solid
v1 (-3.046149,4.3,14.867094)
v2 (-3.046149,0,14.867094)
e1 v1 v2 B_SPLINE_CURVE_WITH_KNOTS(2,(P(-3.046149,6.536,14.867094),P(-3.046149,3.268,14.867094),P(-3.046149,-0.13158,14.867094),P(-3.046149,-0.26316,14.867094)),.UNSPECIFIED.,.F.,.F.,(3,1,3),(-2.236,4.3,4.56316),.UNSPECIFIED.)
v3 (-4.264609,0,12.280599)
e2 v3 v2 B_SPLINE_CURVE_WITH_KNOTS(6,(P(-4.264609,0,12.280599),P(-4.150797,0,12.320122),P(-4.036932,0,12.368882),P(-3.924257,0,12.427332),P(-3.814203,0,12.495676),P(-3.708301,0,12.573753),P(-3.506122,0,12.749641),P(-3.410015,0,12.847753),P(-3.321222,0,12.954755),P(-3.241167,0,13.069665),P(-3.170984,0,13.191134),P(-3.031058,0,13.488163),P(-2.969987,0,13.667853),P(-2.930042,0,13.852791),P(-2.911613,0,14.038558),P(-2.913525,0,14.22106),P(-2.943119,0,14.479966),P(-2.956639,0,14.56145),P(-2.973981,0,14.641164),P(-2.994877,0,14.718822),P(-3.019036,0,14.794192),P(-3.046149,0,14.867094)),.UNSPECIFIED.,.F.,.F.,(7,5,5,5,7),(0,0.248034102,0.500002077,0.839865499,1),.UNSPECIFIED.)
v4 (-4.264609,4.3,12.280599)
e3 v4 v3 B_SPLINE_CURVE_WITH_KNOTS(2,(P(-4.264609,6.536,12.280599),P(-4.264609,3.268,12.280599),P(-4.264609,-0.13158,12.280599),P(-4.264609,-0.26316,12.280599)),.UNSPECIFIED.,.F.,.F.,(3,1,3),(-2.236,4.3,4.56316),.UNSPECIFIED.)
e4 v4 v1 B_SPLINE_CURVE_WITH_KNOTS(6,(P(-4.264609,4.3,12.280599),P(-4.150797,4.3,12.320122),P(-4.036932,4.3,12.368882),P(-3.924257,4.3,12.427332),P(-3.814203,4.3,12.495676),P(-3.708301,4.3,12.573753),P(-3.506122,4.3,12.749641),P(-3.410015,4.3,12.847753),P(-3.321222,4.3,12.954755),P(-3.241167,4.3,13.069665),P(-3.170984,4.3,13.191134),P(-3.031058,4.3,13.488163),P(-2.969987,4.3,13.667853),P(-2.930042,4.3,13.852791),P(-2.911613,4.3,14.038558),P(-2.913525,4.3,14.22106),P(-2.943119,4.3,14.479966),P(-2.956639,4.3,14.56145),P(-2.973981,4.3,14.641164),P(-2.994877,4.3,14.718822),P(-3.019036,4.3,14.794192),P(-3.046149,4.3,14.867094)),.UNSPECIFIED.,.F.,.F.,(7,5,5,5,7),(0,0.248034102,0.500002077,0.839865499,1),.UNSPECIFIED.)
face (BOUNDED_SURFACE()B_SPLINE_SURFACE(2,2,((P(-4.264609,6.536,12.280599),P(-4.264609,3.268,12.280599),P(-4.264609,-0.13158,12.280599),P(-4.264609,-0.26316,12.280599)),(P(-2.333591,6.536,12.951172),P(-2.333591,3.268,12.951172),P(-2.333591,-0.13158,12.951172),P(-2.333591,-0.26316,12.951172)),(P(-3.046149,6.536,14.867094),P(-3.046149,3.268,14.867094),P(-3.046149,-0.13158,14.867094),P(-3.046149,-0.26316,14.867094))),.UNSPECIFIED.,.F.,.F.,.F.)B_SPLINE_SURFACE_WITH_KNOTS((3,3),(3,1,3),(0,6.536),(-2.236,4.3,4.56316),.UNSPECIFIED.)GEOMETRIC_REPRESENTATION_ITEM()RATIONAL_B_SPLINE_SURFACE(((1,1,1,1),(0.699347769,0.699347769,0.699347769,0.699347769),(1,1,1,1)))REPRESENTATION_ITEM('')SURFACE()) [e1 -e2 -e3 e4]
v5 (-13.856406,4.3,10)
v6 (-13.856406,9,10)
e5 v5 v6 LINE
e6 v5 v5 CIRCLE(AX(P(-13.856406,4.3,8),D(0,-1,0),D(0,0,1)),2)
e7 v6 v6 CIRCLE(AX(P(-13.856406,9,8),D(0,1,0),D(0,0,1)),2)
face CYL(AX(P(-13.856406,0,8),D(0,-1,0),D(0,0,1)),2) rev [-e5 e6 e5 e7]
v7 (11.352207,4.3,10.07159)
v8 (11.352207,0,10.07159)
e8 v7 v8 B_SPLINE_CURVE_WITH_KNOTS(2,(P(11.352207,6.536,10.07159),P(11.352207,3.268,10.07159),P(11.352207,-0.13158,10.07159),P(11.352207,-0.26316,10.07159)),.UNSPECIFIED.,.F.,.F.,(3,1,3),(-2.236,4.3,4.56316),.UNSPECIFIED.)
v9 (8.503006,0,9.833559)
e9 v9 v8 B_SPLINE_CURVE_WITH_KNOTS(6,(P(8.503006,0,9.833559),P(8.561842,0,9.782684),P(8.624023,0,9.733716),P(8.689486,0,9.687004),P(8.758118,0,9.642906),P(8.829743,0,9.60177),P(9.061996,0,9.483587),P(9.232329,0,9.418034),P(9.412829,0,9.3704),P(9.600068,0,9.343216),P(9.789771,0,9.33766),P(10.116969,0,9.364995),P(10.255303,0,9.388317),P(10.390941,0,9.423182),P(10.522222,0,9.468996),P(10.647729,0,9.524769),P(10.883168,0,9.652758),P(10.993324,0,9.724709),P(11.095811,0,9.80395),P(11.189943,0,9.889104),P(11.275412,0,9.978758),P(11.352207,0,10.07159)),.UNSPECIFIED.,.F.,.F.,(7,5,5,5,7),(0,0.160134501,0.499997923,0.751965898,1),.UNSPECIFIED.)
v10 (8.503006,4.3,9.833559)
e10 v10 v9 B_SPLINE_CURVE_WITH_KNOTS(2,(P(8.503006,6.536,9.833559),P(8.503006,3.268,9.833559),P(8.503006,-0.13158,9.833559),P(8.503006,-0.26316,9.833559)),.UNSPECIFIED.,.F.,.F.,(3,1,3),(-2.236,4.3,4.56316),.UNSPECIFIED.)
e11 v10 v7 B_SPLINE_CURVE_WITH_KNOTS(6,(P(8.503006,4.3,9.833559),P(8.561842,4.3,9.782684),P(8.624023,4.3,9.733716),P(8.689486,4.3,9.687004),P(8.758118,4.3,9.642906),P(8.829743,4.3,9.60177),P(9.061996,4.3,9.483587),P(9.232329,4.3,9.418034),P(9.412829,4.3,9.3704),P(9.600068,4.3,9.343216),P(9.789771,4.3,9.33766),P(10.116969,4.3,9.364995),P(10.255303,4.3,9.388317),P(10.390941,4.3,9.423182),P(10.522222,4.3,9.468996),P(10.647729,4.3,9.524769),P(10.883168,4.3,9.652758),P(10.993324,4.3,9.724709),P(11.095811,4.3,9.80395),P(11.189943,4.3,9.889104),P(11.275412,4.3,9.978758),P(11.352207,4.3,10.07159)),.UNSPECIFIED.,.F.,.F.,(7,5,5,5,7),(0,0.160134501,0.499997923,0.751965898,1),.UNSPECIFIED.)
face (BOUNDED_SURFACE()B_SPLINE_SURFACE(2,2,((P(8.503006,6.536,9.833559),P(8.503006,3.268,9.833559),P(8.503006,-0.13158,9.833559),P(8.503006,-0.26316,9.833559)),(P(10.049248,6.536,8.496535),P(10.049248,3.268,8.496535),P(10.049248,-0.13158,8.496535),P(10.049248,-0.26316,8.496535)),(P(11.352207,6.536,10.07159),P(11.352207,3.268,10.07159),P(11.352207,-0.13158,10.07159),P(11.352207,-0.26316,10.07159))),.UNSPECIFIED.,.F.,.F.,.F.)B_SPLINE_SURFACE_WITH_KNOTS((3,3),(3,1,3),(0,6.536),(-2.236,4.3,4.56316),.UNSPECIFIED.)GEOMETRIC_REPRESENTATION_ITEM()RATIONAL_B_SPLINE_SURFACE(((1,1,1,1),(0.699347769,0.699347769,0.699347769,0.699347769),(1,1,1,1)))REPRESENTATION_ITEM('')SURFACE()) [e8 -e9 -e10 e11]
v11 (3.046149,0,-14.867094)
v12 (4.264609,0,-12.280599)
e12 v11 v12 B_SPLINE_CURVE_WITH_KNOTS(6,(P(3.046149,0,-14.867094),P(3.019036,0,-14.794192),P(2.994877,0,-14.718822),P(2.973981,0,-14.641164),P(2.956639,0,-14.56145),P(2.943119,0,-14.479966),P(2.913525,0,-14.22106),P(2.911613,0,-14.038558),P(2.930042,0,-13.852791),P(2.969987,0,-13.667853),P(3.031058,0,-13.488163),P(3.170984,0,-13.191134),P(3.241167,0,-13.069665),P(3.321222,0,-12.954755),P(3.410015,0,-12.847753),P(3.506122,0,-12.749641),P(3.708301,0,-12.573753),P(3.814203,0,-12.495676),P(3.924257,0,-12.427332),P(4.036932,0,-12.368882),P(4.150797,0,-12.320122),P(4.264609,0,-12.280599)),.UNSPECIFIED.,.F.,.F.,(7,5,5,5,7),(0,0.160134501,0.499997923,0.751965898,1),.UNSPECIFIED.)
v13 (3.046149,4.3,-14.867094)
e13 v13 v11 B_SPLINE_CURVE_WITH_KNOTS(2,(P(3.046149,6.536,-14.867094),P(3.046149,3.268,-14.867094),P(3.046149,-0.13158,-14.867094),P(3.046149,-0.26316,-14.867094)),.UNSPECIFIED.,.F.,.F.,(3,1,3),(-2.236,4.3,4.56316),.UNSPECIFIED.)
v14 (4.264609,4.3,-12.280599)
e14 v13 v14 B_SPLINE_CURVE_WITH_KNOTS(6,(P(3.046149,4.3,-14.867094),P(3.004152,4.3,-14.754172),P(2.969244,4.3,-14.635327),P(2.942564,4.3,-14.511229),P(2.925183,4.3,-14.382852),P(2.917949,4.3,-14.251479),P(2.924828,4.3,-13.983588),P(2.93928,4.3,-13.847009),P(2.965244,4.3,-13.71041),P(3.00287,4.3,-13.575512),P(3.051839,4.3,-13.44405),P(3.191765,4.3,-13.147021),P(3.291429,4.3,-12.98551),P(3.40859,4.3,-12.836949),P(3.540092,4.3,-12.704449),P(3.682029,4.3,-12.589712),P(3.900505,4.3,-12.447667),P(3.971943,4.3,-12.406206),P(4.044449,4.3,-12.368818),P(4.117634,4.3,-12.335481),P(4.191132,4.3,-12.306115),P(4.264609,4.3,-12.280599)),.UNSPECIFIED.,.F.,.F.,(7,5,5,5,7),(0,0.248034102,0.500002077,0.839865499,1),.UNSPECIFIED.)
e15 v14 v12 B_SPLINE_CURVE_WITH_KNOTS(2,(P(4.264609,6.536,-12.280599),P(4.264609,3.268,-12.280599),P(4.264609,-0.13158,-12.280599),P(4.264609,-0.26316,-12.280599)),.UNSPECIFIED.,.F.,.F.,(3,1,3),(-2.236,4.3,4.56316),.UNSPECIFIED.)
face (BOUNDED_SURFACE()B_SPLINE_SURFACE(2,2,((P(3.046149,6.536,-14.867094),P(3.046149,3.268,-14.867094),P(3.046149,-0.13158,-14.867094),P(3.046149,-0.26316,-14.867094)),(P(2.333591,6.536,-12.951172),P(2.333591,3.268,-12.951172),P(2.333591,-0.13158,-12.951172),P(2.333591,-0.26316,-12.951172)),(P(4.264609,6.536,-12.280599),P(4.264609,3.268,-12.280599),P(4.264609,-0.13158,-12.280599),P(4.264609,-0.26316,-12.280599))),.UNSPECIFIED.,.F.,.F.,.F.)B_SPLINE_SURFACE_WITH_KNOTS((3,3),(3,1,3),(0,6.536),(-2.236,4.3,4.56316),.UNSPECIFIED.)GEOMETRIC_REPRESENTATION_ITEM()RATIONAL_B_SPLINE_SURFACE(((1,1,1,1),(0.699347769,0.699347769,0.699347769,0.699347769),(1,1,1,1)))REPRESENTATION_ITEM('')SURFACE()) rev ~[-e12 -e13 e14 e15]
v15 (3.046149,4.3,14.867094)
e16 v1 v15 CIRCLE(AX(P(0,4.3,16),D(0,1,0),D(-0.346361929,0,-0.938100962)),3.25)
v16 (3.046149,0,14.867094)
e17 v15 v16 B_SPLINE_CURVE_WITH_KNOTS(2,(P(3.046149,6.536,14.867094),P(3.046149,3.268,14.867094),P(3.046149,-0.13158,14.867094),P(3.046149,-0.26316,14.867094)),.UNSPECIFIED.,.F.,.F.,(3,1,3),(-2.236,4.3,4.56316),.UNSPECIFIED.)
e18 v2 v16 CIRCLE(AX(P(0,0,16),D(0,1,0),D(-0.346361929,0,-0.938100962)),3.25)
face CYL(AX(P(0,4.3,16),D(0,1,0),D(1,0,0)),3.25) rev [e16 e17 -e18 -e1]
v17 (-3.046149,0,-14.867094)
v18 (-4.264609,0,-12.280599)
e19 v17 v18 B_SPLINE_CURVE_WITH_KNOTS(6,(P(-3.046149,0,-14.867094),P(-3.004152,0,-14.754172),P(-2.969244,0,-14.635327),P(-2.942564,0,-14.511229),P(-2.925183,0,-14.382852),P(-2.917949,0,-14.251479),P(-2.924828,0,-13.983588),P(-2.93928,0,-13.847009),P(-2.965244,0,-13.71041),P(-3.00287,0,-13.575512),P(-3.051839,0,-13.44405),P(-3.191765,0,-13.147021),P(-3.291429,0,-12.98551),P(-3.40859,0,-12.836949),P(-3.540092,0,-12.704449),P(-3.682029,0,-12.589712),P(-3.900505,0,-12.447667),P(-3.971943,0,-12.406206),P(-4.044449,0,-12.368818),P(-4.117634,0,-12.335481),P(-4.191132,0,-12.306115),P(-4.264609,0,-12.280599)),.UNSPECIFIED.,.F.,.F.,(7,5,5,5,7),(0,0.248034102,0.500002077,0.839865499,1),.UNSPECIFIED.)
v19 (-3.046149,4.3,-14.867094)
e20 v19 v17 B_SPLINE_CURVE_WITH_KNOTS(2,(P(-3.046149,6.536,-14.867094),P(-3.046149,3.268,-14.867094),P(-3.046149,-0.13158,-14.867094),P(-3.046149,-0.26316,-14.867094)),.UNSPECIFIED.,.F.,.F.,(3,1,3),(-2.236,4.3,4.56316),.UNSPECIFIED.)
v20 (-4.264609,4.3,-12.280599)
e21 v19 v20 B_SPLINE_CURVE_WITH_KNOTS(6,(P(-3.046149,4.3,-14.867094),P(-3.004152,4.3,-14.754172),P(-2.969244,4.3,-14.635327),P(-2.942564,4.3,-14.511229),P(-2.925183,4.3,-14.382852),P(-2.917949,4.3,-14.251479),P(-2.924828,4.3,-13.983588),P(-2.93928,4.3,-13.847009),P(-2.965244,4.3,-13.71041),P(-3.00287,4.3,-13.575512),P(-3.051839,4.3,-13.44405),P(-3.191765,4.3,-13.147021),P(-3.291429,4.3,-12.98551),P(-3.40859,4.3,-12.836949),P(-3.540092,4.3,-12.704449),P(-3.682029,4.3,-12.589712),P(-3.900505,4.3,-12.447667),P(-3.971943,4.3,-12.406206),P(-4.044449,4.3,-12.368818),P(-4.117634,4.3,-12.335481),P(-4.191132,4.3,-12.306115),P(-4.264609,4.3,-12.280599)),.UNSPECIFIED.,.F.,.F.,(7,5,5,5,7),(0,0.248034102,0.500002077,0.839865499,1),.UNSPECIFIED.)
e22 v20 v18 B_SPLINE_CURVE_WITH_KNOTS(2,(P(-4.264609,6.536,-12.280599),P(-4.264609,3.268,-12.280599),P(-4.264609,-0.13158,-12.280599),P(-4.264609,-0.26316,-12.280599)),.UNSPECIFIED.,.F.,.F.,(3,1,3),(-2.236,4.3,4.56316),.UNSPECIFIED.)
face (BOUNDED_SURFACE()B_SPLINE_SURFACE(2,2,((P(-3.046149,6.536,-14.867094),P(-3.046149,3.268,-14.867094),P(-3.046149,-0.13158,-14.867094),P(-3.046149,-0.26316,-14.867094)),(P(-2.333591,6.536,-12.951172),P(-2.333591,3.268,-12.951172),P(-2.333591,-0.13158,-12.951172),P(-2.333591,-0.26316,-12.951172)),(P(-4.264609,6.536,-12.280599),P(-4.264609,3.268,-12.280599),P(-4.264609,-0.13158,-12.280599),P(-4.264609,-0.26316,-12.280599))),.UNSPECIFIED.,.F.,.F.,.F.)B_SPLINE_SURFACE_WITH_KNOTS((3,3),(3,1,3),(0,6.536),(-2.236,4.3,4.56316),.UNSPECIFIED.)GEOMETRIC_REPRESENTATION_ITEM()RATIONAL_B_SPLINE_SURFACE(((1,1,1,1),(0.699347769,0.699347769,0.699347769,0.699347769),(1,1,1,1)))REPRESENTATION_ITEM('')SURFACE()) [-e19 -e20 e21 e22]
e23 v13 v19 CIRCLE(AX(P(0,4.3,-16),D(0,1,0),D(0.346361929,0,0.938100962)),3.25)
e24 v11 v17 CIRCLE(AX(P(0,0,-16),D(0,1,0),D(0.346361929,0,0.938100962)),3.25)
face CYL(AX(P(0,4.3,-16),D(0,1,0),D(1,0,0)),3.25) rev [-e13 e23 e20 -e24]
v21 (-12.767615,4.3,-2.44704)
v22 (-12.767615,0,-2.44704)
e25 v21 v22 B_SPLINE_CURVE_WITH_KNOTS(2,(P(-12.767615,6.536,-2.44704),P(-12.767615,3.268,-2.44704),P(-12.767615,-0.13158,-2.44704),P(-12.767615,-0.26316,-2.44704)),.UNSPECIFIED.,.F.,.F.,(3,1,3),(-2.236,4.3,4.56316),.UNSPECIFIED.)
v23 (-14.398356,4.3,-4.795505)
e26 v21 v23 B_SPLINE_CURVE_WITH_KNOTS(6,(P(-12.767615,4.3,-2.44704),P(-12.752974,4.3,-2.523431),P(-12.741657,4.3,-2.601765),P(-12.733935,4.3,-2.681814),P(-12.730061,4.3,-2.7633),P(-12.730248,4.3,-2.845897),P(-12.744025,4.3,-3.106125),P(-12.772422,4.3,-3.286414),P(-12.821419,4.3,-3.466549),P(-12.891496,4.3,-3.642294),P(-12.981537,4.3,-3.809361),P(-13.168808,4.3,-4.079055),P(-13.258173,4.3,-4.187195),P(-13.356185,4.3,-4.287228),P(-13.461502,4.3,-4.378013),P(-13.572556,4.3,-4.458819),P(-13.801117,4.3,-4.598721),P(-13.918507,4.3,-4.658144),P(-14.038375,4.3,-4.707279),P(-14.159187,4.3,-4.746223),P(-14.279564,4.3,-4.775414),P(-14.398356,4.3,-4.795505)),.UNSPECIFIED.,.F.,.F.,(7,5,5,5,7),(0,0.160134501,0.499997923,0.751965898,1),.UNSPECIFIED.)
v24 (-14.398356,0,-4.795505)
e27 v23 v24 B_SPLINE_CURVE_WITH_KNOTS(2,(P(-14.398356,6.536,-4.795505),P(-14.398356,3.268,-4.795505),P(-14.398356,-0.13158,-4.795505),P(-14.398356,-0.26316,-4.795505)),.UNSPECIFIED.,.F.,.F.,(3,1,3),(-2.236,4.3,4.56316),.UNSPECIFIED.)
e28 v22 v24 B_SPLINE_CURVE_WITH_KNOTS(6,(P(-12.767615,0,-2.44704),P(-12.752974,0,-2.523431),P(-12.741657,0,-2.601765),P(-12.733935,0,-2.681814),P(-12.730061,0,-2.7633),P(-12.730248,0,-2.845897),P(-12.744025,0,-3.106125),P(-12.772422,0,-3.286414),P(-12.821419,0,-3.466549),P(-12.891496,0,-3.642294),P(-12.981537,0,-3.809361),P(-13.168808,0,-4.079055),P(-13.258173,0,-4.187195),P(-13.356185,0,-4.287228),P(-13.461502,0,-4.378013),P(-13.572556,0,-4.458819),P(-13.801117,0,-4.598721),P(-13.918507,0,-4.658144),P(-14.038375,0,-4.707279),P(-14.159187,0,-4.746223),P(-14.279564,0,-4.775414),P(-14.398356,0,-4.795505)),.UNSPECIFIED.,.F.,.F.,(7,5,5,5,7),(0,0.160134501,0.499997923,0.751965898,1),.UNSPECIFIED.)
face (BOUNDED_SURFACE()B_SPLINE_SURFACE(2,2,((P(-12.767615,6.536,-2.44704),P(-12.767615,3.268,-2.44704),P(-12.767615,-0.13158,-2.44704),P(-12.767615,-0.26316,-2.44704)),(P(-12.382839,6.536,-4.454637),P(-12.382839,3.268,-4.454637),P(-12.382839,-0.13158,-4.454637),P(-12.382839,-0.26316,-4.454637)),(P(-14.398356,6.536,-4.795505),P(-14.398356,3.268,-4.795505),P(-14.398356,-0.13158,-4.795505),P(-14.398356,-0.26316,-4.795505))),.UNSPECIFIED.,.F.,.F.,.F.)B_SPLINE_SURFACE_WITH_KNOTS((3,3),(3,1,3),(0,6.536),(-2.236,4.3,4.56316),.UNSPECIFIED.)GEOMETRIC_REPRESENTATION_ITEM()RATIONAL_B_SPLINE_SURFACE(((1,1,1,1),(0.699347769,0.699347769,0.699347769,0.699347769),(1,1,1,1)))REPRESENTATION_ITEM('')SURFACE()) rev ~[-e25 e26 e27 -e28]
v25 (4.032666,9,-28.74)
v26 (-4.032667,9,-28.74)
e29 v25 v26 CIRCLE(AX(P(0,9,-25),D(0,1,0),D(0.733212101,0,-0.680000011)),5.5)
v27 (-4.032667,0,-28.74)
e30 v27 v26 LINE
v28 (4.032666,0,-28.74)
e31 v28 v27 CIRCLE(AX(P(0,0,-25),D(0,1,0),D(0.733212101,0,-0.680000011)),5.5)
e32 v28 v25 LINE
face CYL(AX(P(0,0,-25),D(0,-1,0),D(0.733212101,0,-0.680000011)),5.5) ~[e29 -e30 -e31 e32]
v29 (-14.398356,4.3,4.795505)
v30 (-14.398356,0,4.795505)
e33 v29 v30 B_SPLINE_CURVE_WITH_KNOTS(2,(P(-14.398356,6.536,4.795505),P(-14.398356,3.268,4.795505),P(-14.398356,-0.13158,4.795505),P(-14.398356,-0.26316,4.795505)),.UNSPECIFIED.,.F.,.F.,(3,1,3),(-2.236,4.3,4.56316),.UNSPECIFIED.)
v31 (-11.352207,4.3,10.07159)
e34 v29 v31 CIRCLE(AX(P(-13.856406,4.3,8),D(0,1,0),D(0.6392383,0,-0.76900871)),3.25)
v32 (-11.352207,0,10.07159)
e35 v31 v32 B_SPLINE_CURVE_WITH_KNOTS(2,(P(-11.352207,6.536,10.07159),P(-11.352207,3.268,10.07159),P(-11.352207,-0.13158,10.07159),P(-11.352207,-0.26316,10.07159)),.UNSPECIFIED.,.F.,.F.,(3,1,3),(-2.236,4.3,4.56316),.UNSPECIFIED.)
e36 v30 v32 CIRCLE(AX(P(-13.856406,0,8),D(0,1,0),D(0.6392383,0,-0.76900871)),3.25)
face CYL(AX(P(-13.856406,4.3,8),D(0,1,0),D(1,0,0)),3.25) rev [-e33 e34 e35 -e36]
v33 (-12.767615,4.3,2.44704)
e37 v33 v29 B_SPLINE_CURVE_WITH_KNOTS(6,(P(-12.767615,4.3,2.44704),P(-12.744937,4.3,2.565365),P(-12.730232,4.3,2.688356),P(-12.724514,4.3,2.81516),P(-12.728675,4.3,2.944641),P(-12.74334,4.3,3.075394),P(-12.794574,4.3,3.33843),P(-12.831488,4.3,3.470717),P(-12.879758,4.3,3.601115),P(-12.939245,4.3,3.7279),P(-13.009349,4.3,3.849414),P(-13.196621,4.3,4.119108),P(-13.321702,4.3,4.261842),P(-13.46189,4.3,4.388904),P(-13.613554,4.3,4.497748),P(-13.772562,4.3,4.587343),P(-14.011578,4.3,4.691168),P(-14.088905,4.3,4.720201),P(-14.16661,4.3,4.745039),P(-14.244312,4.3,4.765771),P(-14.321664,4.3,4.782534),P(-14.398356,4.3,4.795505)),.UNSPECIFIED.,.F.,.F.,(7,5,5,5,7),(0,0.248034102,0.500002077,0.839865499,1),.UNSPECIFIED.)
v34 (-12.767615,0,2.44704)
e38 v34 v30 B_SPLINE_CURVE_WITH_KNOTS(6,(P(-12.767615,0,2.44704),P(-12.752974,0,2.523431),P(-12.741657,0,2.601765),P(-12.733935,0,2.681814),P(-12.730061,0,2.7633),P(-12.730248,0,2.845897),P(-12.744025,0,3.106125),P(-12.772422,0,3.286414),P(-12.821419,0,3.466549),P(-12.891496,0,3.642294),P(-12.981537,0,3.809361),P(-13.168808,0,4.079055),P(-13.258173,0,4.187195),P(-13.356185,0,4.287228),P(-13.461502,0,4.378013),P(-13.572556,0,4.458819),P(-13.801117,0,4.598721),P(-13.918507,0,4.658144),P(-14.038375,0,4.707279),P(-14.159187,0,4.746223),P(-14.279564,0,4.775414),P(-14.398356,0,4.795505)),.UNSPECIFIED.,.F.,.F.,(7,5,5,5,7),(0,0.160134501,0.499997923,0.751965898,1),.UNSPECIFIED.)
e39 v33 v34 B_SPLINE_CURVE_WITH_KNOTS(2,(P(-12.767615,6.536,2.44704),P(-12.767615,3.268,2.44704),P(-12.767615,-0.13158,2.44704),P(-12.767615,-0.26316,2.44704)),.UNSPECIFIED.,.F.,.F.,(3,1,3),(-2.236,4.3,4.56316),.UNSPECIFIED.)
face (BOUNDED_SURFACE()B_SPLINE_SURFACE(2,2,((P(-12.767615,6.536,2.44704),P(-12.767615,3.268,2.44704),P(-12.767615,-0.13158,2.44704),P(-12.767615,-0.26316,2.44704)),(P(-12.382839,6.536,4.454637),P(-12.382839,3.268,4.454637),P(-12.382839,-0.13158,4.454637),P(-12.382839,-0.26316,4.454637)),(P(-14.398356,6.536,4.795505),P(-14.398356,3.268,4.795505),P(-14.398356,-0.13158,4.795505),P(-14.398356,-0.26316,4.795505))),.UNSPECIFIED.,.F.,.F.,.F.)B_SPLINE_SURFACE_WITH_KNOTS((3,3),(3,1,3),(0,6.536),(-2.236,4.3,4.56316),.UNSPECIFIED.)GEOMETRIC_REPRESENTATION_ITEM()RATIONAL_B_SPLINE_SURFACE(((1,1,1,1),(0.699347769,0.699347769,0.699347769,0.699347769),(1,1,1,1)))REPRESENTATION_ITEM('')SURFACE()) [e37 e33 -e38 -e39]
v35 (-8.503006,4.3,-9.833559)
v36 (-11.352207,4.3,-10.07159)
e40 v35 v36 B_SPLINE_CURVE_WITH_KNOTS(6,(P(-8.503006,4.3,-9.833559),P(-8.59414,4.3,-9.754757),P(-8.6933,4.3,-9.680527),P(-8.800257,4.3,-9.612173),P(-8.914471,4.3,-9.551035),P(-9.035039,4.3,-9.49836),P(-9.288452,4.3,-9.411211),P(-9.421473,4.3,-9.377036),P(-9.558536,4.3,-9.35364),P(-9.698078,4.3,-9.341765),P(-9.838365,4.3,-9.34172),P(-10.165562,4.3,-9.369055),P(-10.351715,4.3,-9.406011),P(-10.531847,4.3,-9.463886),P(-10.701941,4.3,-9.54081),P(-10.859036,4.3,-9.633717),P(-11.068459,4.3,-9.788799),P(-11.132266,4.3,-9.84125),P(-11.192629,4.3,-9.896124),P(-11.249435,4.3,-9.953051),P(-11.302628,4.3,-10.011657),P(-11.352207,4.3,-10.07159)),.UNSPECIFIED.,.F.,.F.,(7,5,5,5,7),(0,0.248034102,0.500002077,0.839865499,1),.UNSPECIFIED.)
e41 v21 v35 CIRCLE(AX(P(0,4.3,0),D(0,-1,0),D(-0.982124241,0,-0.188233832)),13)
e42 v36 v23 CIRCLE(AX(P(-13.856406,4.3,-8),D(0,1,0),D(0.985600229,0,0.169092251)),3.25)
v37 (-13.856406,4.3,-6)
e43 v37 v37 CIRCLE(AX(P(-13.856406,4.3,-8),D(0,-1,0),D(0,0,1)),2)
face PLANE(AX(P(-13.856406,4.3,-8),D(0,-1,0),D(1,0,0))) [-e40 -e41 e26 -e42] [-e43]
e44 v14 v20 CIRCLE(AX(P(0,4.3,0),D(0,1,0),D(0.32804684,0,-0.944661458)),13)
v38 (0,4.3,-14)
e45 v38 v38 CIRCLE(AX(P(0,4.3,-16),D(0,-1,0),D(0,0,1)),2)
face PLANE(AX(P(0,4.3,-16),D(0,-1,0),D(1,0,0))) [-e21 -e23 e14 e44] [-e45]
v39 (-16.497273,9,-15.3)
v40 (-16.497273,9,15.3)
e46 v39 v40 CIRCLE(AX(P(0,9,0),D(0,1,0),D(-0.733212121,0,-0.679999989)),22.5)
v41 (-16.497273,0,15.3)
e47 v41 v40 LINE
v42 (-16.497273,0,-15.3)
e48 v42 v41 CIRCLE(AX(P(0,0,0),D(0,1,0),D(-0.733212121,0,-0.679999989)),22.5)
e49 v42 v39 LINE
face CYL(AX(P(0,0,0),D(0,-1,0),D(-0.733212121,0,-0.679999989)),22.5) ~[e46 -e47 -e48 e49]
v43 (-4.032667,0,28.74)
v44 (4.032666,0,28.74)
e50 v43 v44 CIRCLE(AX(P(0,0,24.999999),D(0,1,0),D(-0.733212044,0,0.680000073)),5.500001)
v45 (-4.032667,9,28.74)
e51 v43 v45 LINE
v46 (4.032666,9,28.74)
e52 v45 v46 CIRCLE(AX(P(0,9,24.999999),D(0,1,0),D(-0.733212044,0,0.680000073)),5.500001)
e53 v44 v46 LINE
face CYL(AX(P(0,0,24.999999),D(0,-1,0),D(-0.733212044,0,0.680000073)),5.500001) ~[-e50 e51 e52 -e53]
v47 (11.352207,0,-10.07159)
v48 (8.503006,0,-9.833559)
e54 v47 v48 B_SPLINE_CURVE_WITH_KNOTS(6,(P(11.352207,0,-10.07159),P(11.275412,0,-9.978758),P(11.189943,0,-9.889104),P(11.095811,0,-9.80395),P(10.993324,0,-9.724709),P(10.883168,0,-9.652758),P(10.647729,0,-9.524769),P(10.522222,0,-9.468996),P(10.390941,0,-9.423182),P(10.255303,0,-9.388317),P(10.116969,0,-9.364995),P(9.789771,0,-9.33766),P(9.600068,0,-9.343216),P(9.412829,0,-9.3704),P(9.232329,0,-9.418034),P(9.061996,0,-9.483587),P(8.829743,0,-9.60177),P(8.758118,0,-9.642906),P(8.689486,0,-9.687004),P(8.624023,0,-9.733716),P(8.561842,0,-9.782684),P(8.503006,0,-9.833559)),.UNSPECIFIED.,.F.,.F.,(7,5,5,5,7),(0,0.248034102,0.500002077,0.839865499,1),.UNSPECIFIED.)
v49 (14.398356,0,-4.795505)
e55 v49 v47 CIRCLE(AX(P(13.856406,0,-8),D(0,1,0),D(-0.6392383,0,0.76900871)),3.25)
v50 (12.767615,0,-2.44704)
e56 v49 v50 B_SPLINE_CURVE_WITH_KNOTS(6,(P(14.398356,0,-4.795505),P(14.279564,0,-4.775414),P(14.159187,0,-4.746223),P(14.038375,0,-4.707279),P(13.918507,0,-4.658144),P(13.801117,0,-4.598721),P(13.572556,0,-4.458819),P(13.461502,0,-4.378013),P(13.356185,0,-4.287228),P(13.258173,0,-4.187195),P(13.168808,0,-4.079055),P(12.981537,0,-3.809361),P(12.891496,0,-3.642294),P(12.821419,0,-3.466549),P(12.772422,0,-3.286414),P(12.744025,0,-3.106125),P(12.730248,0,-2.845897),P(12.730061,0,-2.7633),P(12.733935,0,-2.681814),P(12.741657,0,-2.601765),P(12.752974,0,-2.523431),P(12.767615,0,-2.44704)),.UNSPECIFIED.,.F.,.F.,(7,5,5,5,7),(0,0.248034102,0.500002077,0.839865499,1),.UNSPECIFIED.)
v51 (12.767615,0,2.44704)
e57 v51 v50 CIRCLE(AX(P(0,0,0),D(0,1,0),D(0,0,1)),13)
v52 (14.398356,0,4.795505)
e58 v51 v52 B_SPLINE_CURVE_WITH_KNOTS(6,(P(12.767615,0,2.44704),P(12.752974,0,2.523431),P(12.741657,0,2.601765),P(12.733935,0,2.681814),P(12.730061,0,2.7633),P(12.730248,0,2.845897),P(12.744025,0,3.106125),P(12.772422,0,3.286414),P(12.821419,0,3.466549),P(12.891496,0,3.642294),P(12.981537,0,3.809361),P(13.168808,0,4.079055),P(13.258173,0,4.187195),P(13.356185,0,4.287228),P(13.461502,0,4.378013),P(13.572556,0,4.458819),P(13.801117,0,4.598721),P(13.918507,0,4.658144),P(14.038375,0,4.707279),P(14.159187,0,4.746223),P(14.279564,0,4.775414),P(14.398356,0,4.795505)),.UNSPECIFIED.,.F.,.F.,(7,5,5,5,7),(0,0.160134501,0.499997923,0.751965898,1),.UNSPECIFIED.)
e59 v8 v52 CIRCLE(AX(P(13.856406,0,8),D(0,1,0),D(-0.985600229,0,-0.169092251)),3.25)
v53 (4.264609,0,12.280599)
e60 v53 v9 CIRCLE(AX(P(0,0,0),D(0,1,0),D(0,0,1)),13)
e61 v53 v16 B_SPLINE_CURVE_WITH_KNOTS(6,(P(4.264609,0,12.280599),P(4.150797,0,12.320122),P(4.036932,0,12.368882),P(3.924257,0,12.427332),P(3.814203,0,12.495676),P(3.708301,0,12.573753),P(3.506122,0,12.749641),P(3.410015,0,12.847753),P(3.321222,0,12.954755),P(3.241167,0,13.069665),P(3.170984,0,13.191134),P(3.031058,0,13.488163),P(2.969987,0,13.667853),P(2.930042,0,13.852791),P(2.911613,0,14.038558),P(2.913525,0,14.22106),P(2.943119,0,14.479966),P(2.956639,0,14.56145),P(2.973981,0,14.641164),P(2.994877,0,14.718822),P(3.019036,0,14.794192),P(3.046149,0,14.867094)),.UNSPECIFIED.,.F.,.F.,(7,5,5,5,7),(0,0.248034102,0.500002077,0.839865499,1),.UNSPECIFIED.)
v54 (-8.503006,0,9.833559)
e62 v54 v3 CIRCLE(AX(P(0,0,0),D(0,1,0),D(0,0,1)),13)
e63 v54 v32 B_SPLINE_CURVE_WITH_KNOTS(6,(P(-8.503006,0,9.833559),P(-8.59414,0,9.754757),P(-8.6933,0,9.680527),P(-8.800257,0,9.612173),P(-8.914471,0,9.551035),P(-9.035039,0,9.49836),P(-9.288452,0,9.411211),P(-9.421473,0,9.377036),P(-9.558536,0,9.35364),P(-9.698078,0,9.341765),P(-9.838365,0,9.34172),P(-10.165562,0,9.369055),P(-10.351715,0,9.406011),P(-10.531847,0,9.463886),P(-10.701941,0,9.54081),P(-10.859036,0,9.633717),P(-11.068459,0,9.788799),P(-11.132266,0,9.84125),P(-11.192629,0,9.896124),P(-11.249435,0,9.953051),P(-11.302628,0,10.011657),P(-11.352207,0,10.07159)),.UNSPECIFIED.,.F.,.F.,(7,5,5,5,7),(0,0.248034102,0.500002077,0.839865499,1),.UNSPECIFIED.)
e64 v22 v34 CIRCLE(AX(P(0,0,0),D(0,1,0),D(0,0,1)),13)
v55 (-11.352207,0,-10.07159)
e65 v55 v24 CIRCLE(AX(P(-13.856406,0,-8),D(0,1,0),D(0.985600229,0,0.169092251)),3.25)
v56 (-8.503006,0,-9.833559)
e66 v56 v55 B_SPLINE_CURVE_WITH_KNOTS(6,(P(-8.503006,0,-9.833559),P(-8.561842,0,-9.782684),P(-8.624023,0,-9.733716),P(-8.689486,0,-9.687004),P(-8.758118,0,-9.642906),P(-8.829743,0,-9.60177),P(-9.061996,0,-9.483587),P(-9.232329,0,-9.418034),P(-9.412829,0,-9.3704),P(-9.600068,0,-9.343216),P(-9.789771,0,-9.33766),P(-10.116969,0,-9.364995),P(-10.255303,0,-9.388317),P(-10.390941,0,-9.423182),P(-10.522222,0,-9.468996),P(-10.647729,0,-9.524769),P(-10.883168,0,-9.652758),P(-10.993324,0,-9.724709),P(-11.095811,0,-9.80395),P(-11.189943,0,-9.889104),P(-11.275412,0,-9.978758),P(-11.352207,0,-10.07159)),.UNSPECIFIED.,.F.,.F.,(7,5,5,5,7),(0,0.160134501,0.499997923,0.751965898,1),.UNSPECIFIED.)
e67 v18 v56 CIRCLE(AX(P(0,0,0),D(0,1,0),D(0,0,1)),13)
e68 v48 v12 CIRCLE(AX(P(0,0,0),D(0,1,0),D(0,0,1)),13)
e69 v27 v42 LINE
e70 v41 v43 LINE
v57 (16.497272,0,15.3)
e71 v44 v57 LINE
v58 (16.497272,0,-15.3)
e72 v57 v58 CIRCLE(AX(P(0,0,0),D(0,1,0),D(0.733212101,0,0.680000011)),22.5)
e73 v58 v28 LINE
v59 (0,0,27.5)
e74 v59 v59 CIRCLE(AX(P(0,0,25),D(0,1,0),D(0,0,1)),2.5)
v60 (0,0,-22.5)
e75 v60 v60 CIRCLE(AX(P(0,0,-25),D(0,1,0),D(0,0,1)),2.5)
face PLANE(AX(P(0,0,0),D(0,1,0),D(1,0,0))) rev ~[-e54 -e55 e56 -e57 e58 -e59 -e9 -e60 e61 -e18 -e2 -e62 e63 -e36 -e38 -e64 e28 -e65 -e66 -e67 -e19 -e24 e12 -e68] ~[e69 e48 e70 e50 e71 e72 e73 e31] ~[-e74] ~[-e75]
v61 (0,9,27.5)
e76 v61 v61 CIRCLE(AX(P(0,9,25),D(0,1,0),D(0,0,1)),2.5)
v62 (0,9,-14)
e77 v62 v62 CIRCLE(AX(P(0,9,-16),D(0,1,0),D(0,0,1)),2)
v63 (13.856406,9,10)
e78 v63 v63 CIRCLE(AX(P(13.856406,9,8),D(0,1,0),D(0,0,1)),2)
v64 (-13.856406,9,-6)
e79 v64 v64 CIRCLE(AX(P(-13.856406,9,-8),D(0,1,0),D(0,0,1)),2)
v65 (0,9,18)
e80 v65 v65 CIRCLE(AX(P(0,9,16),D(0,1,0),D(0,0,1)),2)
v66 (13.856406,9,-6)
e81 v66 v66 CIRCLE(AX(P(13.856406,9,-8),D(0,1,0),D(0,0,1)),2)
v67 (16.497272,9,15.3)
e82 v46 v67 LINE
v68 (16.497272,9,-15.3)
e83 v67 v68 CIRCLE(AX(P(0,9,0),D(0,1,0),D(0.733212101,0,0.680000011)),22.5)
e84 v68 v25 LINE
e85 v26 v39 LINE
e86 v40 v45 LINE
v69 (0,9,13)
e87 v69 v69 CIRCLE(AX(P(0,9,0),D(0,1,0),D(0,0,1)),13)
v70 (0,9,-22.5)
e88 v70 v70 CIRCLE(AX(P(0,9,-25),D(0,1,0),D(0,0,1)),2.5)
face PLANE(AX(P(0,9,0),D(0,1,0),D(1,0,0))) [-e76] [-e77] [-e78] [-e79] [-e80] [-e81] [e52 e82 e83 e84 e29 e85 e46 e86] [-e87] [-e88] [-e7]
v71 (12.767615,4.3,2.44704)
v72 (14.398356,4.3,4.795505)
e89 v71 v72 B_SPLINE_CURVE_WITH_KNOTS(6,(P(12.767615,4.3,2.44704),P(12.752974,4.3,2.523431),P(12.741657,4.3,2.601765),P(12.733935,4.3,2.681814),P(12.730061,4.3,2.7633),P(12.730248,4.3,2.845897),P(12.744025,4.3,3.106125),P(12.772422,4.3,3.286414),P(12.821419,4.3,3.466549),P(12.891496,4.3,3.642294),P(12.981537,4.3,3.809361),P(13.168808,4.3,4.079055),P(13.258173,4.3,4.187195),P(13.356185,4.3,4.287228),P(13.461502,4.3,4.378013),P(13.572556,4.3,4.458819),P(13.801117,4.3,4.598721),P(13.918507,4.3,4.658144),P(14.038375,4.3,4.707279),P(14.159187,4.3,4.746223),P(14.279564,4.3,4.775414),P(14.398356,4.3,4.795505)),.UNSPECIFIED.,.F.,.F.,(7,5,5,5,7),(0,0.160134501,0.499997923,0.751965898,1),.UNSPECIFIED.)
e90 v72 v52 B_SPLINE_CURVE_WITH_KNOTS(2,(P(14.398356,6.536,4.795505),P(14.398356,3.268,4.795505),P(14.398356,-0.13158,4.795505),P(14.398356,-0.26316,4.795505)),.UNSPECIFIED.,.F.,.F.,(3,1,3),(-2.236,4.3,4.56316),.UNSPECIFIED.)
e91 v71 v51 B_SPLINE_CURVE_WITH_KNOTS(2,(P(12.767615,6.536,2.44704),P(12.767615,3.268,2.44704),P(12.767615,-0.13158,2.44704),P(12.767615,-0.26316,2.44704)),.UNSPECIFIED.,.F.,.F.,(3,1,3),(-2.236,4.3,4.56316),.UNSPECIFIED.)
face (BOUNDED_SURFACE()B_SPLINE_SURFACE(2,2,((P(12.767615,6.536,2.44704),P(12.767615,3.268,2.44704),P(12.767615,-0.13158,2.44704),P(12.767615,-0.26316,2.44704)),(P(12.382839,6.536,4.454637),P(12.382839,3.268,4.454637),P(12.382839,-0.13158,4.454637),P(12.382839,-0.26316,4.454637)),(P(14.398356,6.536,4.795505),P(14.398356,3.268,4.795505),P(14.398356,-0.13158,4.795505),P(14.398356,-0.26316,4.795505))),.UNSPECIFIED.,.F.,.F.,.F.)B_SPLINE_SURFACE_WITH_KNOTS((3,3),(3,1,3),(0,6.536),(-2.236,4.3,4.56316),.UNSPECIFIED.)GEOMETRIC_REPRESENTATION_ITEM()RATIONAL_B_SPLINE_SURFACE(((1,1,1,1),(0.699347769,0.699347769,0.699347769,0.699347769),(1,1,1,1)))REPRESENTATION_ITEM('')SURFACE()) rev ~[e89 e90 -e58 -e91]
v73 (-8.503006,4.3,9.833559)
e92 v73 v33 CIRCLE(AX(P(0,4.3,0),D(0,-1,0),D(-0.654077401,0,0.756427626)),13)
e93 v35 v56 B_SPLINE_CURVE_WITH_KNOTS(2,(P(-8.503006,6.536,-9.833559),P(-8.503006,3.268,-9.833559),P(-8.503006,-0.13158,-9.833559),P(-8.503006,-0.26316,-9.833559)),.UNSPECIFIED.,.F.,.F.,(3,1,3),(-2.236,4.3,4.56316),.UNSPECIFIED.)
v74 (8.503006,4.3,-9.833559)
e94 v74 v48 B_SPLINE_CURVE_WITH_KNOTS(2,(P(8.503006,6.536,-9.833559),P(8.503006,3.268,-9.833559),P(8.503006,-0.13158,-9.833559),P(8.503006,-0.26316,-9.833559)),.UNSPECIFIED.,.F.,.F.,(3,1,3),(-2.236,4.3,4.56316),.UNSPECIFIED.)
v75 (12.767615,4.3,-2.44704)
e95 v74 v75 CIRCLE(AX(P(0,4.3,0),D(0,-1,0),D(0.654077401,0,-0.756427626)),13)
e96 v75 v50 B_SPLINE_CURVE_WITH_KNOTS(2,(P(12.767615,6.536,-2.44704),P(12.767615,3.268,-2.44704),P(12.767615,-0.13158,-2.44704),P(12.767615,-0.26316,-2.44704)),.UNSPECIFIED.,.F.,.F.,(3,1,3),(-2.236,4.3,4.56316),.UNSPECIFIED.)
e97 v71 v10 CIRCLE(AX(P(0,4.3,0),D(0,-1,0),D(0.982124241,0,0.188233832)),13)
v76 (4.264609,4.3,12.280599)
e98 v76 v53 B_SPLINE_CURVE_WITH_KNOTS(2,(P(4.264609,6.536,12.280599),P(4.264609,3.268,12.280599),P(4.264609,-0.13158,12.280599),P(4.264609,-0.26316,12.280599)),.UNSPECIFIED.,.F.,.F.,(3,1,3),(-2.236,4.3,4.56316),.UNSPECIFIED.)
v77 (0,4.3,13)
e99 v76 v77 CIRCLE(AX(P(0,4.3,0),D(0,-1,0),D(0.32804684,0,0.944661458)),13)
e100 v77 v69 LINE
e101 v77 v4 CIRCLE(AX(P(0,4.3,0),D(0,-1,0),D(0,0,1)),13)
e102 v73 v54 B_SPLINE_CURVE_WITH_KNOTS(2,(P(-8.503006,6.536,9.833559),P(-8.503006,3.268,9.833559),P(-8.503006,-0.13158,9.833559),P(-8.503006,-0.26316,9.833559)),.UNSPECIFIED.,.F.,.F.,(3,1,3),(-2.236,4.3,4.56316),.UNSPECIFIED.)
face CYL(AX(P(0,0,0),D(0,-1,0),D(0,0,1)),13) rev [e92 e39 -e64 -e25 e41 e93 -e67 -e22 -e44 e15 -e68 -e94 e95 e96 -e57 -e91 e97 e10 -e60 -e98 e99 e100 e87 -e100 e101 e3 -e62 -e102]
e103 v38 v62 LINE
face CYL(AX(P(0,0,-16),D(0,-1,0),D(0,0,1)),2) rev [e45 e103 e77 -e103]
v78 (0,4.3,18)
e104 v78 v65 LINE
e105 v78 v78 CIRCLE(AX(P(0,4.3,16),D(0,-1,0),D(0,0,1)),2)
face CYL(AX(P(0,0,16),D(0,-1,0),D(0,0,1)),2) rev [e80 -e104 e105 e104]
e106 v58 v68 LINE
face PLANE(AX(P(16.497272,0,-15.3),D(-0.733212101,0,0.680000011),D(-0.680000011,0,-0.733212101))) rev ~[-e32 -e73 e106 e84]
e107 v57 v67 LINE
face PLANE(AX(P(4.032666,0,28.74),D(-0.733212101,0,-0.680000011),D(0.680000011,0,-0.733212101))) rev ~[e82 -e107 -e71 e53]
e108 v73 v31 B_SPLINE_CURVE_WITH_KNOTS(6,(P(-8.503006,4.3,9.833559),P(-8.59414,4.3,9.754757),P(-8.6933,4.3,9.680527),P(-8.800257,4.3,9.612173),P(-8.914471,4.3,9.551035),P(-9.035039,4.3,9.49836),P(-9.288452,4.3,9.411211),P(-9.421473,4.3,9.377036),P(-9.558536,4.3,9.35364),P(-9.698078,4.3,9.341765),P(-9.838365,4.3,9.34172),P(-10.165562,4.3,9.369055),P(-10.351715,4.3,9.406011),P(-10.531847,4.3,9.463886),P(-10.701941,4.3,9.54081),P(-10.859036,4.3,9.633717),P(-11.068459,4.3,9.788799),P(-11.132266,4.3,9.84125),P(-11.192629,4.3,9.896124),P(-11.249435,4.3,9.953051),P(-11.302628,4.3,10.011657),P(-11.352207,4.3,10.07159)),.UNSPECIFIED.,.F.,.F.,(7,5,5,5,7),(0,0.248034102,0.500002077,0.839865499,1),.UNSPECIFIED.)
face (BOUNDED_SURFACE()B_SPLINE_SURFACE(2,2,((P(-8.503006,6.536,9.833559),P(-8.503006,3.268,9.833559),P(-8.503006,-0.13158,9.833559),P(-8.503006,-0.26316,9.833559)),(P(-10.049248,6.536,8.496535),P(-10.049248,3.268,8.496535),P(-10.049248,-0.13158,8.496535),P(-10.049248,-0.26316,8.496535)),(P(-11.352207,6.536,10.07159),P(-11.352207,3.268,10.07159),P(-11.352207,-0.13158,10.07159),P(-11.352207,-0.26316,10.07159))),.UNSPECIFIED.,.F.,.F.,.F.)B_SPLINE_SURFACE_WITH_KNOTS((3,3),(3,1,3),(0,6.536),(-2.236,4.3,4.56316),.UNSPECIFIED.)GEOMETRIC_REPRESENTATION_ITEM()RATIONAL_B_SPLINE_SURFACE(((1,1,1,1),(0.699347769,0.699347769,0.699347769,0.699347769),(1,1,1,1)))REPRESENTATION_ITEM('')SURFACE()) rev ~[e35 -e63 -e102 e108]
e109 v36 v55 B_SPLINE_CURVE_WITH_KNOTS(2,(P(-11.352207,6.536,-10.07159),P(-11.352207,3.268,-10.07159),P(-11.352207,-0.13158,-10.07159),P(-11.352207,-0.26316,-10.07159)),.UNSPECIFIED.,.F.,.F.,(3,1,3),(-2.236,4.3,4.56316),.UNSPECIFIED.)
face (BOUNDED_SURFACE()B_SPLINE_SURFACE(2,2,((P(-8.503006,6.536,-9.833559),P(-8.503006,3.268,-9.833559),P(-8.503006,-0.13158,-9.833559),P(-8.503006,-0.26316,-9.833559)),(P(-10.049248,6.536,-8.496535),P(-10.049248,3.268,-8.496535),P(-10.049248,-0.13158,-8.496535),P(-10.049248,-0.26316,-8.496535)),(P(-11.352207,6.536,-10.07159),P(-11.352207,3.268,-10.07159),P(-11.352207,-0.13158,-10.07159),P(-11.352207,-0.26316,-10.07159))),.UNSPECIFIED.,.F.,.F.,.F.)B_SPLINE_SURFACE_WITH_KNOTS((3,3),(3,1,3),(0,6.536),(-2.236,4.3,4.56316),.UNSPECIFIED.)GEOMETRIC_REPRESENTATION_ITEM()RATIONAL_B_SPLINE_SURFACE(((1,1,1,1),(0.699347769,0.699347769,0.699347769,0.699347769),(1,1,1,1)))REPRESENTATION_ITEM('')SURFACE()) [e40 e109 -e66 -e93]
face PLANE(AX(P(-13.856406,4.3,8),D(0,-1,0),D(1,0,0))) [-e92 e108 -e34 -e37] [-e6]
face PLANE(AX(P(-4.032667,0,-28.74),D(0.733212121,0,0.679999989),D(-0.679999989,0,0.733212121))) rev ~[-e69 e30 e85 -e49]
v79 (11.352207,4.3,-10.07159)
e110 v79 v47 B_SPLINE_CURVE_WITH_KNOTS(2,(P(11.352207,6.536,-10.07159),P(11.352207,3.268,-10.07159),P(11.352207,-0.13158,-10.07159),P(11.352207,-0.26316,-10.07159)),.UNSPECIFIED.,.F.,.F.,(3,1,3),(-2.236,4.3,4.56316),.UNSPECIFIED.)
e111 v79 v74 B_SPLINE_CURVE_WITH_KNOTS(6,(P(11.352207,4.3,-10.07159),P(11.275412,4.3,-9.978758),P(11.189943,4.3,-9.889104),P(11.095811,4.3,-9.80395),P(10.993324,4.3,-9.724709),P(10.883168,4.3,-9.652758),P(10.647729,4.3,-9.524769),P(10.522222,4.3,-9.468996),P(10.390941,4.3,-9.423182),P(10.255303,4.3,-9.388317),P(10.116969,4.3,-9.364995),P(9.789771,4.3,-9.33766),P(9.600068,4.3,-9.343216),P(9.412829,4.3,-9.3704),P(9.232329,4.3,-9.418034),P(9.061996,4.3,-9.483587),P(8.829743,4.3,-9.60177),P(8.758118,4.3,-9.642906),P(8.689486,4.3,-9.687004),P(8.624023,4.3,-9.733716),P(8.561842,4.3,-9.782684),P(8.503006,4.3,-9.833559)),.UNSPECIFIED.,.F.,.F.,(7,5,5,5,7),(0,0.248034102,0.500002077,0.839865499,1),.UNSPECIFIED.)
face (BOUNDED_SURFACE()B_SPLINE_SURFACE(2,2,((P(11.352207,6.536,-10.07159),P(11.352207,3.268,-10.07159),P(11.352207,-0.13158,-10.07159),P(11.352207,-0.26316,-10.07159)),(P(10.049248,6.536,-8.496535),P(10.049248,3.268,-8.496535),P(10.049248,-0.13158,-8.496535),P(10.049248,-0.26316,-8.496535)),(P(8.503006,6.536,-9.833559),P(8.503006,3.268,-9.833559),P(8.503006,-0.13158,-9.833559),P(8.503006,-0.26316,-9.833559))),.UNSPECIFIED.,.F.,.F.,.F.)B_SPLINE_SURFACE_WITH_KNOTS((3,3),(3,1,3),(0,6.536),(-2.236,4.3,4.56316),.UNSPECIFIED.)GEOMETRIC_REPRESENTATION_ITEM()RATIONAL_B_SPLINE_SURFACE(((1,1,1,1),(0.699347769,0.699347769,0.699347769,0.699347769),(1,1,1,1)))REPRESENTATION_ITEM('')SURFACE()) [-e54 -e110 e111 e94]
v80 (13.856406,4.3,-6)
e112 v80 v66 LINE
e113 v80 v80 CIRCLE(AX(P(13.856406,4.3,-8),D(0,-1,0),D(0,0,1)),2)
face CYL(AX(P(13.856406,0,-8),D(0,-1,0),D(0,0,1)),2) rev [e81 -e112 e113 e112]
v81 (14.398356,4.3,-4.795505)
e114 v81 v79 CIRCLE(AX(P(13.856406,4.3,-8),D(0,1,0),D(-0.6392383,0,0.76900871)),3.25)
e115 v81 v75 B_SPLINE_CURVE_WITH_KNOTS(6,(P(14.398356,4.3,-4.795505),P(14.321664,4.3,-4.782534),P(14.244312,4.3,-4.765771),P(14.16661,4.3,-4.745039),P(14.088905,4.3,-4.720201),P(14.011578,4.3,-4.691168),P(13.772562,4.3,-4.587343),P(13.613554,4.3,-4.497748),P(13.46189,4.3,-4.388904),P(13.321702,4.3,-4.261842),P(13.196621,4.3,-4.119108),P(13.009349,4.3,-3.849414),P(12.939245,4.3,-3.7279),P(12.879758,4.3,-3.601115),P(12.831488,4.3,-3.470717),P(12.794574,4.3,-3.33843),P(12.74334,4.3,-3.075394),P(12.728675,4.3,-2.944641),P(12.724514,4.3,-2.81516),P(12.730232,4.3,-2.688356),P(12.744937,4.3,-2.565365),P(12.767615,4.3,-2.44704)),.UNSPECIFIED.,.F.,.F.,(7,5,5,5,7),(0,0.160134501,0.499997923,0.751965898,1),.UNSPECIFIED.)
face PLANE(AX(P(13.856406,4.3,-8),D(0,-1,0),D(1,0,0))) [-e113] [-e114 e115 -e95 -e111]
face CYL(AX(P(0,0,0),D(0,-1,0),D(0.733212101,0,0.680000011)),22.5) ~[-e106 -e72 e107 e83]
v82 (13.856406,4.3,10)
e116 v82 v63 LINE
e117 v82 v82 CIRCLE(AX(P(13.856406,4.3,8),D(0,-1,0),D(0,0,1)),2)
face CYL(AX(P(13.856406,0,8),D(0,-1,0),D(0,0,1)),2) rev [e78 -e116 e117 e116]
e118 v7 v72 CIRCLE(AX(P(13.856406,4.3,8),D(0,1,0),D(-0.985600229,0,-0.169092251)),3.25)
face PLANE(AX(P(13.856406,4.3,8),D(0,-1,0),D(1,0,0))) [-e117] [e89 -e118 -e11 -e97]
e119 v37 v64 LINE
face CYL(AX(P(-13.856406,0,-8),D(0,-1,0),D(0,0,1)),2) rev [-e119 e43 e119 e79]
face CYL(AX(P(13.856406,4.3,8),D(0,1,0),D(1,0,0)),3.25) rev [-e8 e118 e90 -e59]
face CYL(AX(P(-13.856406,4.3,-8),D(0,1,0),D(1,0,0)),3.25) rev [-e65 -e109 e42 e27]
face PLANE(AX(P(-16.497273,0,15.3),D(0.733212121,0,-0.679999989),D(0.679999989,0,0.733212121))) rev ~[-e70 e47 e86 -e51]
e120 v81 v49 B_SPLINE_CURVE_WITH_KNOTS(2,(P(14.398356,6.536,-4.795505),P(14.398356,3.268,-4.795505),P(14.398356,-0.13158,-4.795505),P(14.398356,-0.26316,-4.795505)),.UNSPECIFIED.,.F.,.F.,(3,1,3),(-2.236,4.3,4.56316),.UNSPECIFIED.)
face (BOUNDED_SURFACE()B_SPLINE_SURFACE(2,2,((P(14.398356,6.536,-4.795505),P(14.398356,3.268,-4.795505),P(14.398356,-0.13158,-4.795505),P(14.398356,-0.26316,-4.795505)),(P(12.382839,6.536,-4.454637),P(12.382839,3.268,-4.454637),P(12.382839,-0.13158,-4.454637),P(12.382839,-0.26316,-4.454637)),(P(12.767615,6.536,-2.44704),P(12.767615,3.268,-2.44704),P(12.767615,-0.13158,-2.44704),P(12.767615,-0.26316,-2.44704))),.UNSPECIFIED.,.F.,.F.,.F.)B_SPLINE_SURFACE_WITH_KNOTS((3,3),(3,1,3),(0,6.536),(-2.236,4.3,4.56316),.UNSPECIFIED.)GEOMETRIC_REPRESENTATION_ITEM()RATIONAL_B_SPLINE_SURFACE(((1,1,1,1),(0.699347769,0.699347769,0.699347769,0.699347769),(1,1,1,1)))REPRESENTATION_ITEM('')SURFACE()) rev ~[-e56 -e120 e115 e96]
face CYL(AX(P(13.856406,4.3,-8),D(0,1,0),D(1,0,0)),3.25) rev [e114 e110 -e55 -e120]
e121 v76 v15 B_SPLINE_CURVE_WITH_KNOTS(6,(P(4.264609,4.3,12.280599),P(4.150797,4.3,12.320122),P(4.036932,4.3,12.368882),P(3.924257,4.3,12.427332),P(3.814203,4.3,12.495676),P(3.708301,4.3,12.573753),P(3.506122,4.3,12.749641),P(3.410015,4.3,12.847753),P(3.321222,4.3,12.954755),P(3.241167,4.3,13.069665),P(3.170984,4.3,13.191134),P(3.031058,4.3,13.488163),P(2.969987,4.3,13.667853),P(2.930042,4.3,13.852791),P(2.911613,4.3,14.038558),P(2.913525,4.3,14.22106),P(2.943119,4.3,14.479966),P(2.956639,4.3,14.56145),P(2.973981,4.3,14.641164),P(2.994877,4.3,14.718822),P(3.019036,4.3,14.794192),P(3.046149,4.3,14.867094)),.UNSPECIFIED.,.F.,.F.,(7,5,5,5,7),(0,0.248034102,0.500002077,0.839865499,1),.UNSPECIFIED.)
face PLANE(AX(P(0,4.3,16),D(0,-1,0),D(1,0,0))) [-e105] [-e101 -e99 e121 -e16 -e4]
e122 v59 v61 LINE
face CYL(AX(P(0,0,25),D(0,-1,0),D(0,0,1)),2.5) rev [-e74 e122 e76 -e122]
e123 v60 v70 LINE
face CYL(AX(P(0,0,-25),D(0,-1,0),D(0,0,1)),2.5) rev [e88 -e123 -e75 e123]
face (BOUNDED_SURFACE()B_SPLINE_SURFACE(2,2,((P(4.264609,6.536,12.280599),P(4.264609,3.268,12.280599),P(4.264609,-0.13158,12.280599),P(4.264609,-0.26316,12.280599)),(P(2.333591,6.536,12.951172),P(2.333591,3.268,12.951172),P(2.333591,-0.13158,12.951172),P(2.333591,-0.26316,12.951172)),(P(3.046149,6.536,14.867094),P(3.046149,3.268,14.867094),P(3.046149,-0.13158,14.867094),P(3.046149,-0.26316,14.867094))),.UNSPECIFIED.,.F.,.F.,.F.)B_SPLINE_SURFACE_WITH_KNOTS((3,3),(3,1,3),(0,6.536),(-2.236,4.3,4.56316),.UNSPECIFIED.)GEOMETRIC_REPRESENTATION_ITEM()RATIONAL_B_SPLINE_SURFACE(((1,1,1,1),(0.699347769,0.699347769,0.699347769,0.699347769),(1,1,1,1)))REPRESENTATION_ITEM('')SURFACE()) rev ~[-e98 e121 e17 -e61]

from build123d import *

# Parameters (mm, degrees)
SKETCH1_R           = 13
SKETCH1_R_2         = 2
SKETCH1_R_3         = 2.5
BOSS_EXTRUDE1_DEPTH = 9
CUT_EXTRUDE2_START  = -4.3
SKETCH3_R           = 3.25
CUT_EXTRUDE2_DEPTH  = 4.3
FILLET1_R           = 2


with BuildPart() as part:
    # Sketch1 → Boss-Extrude1 (new body)
    with BuildSketch(Plane(origin=(0, 0, 0), x_dir=(1, 0, 0), z_dir=(0, 1, 0))):
        with BuildLine():
            Line((-4.032667043, 28.739999939), (-16.497272732, 15.299999752))
            ThreePointArc((-16.497272732, 15.299999752), (-22.5, 0), (-16.497272732, -15.299999752))
            Line((-16.497272732, -15.299999752), (-4.032667043, -28.739999939))
            ThreePointArc((-4.032667043, -28.739999939), (-3.38e-07, -30.499999725), (4.03266618, -28.740000061))
            Line((4.03266618, -28.740000061), (16.497272272, -15.300000248))
            ThreePointArc((16.497272272, -15.300000248), (22.5, 0), (16.497272272, 15.300000248))
            Line((16.497272272, 15.300000248), (4.03266618, 28.740000061))
            ThreePointArc((4.03266618, 28.740000061), (-4.58e-07, 30.5), (-4.032667043, 28.739999939))
        make_face()
        with Locations(Location((0, 0, 0), (0, 0, 270))):
            Circle(SKETCH1_R, mode=Mode.SUBTRACT)
        with Locations(Location((0, 16, 0), (0, 0, 270))):
            Circle(SKETCH1_R_2, mode=Mode.SUBTRACT)
        with Locations(Location((13.856406461, 8, 0), (0, 0, 270))):
            Circle(SKETCH1_R_2, mode=Mode.SUBTRACT)
        with Locations(Location((13.856406461, -8, 0), (0, 0, 270))):
            Circle(SKETCH1_R_2, mode=Mode.SUBTRACT)
        with Locations(Location((0, -16, 0), (0, 0, 270))):
            Circle(SKETCH1_R_2, mode=Mode.SUBTRACT)
        with Locations(Location((-13.856406461, -8, 0), (0, 0, 270))):
            Circle(SKETCH1_R_2, mode=Mode.SUBTRACT)
        with Locations(Location((-13.856406461, 8, 0), (0, 0, 270))):
            Circle(SKETCH1_R_2, mode=Mode.SUBTRACT)
        with Locations(Location((-3.76e-07, 25, 0), (0, 0, 270))):
            Circle(SKETCH1_R_3, mode=Mode.SUBTRACT)
        with Locations(Location((0, -25, 0), (0, 0, 270))):
            Circle(SKETCH1_R_3, mode=Mode.SUBTRACT)
    extrude(amount=BOSS_EXTRUDE1_DEPTH)

    # Sketch3 → Cut-Extrude2 (cut)
    with BuildSketch(Plane.XZ.offset(CUT_EXTRUDE2_START)):
        with Locations((0, -16)):
            Circle(SKETCH3_R)
        with Locations((-13.856406461, -8)):
            Circle(SKETCH3_R)
        with Locations((-13.856406461, 8)):
            Circle(SKETCH3_R)
        with Locations((0, 16)):
            Circle(SKETCH3_R)
        with Locations((13.856406461, 8)):
            Circle(SKETCH3_R)
        with Locations((13.856406461, -8)):
            Circle(SKETCH3_R)
    extrude(amount=CUT_EXTRUDE2_DEPTH, mode=Mode.SUBTRACT)

    # Fillet1
    fillet1_edges = [part.edges().sort_by_distance(p)[0] for p in [
        (-11.778881987, 2.15, -5.500721691),
        (-10.653205718, 2.15, -7.450450184),
        (-10.653205718, 2.15, 7.450450184),
        (-11.778881987, 2.15, 5.500721691),
        (1.12567627, 2.15, 12.951171875),
        (-1.12567627, 2.15, 12.951171875),
        (11.778881987, 2.15, 5.500721691),
        (10.653205718, 2.15, 7.450450184),
        (10.653205718, 2.15, -7.450450184),
        (11.778881987, 2.15, -5.500721691),
        (-1.12567627, 2.15, -12.951171875),
        (1.12567627, 2.15, -12.951171875),
    ]]
    fillet(fillet1_edges, radius=FILLET1_R)


solid = part.part
